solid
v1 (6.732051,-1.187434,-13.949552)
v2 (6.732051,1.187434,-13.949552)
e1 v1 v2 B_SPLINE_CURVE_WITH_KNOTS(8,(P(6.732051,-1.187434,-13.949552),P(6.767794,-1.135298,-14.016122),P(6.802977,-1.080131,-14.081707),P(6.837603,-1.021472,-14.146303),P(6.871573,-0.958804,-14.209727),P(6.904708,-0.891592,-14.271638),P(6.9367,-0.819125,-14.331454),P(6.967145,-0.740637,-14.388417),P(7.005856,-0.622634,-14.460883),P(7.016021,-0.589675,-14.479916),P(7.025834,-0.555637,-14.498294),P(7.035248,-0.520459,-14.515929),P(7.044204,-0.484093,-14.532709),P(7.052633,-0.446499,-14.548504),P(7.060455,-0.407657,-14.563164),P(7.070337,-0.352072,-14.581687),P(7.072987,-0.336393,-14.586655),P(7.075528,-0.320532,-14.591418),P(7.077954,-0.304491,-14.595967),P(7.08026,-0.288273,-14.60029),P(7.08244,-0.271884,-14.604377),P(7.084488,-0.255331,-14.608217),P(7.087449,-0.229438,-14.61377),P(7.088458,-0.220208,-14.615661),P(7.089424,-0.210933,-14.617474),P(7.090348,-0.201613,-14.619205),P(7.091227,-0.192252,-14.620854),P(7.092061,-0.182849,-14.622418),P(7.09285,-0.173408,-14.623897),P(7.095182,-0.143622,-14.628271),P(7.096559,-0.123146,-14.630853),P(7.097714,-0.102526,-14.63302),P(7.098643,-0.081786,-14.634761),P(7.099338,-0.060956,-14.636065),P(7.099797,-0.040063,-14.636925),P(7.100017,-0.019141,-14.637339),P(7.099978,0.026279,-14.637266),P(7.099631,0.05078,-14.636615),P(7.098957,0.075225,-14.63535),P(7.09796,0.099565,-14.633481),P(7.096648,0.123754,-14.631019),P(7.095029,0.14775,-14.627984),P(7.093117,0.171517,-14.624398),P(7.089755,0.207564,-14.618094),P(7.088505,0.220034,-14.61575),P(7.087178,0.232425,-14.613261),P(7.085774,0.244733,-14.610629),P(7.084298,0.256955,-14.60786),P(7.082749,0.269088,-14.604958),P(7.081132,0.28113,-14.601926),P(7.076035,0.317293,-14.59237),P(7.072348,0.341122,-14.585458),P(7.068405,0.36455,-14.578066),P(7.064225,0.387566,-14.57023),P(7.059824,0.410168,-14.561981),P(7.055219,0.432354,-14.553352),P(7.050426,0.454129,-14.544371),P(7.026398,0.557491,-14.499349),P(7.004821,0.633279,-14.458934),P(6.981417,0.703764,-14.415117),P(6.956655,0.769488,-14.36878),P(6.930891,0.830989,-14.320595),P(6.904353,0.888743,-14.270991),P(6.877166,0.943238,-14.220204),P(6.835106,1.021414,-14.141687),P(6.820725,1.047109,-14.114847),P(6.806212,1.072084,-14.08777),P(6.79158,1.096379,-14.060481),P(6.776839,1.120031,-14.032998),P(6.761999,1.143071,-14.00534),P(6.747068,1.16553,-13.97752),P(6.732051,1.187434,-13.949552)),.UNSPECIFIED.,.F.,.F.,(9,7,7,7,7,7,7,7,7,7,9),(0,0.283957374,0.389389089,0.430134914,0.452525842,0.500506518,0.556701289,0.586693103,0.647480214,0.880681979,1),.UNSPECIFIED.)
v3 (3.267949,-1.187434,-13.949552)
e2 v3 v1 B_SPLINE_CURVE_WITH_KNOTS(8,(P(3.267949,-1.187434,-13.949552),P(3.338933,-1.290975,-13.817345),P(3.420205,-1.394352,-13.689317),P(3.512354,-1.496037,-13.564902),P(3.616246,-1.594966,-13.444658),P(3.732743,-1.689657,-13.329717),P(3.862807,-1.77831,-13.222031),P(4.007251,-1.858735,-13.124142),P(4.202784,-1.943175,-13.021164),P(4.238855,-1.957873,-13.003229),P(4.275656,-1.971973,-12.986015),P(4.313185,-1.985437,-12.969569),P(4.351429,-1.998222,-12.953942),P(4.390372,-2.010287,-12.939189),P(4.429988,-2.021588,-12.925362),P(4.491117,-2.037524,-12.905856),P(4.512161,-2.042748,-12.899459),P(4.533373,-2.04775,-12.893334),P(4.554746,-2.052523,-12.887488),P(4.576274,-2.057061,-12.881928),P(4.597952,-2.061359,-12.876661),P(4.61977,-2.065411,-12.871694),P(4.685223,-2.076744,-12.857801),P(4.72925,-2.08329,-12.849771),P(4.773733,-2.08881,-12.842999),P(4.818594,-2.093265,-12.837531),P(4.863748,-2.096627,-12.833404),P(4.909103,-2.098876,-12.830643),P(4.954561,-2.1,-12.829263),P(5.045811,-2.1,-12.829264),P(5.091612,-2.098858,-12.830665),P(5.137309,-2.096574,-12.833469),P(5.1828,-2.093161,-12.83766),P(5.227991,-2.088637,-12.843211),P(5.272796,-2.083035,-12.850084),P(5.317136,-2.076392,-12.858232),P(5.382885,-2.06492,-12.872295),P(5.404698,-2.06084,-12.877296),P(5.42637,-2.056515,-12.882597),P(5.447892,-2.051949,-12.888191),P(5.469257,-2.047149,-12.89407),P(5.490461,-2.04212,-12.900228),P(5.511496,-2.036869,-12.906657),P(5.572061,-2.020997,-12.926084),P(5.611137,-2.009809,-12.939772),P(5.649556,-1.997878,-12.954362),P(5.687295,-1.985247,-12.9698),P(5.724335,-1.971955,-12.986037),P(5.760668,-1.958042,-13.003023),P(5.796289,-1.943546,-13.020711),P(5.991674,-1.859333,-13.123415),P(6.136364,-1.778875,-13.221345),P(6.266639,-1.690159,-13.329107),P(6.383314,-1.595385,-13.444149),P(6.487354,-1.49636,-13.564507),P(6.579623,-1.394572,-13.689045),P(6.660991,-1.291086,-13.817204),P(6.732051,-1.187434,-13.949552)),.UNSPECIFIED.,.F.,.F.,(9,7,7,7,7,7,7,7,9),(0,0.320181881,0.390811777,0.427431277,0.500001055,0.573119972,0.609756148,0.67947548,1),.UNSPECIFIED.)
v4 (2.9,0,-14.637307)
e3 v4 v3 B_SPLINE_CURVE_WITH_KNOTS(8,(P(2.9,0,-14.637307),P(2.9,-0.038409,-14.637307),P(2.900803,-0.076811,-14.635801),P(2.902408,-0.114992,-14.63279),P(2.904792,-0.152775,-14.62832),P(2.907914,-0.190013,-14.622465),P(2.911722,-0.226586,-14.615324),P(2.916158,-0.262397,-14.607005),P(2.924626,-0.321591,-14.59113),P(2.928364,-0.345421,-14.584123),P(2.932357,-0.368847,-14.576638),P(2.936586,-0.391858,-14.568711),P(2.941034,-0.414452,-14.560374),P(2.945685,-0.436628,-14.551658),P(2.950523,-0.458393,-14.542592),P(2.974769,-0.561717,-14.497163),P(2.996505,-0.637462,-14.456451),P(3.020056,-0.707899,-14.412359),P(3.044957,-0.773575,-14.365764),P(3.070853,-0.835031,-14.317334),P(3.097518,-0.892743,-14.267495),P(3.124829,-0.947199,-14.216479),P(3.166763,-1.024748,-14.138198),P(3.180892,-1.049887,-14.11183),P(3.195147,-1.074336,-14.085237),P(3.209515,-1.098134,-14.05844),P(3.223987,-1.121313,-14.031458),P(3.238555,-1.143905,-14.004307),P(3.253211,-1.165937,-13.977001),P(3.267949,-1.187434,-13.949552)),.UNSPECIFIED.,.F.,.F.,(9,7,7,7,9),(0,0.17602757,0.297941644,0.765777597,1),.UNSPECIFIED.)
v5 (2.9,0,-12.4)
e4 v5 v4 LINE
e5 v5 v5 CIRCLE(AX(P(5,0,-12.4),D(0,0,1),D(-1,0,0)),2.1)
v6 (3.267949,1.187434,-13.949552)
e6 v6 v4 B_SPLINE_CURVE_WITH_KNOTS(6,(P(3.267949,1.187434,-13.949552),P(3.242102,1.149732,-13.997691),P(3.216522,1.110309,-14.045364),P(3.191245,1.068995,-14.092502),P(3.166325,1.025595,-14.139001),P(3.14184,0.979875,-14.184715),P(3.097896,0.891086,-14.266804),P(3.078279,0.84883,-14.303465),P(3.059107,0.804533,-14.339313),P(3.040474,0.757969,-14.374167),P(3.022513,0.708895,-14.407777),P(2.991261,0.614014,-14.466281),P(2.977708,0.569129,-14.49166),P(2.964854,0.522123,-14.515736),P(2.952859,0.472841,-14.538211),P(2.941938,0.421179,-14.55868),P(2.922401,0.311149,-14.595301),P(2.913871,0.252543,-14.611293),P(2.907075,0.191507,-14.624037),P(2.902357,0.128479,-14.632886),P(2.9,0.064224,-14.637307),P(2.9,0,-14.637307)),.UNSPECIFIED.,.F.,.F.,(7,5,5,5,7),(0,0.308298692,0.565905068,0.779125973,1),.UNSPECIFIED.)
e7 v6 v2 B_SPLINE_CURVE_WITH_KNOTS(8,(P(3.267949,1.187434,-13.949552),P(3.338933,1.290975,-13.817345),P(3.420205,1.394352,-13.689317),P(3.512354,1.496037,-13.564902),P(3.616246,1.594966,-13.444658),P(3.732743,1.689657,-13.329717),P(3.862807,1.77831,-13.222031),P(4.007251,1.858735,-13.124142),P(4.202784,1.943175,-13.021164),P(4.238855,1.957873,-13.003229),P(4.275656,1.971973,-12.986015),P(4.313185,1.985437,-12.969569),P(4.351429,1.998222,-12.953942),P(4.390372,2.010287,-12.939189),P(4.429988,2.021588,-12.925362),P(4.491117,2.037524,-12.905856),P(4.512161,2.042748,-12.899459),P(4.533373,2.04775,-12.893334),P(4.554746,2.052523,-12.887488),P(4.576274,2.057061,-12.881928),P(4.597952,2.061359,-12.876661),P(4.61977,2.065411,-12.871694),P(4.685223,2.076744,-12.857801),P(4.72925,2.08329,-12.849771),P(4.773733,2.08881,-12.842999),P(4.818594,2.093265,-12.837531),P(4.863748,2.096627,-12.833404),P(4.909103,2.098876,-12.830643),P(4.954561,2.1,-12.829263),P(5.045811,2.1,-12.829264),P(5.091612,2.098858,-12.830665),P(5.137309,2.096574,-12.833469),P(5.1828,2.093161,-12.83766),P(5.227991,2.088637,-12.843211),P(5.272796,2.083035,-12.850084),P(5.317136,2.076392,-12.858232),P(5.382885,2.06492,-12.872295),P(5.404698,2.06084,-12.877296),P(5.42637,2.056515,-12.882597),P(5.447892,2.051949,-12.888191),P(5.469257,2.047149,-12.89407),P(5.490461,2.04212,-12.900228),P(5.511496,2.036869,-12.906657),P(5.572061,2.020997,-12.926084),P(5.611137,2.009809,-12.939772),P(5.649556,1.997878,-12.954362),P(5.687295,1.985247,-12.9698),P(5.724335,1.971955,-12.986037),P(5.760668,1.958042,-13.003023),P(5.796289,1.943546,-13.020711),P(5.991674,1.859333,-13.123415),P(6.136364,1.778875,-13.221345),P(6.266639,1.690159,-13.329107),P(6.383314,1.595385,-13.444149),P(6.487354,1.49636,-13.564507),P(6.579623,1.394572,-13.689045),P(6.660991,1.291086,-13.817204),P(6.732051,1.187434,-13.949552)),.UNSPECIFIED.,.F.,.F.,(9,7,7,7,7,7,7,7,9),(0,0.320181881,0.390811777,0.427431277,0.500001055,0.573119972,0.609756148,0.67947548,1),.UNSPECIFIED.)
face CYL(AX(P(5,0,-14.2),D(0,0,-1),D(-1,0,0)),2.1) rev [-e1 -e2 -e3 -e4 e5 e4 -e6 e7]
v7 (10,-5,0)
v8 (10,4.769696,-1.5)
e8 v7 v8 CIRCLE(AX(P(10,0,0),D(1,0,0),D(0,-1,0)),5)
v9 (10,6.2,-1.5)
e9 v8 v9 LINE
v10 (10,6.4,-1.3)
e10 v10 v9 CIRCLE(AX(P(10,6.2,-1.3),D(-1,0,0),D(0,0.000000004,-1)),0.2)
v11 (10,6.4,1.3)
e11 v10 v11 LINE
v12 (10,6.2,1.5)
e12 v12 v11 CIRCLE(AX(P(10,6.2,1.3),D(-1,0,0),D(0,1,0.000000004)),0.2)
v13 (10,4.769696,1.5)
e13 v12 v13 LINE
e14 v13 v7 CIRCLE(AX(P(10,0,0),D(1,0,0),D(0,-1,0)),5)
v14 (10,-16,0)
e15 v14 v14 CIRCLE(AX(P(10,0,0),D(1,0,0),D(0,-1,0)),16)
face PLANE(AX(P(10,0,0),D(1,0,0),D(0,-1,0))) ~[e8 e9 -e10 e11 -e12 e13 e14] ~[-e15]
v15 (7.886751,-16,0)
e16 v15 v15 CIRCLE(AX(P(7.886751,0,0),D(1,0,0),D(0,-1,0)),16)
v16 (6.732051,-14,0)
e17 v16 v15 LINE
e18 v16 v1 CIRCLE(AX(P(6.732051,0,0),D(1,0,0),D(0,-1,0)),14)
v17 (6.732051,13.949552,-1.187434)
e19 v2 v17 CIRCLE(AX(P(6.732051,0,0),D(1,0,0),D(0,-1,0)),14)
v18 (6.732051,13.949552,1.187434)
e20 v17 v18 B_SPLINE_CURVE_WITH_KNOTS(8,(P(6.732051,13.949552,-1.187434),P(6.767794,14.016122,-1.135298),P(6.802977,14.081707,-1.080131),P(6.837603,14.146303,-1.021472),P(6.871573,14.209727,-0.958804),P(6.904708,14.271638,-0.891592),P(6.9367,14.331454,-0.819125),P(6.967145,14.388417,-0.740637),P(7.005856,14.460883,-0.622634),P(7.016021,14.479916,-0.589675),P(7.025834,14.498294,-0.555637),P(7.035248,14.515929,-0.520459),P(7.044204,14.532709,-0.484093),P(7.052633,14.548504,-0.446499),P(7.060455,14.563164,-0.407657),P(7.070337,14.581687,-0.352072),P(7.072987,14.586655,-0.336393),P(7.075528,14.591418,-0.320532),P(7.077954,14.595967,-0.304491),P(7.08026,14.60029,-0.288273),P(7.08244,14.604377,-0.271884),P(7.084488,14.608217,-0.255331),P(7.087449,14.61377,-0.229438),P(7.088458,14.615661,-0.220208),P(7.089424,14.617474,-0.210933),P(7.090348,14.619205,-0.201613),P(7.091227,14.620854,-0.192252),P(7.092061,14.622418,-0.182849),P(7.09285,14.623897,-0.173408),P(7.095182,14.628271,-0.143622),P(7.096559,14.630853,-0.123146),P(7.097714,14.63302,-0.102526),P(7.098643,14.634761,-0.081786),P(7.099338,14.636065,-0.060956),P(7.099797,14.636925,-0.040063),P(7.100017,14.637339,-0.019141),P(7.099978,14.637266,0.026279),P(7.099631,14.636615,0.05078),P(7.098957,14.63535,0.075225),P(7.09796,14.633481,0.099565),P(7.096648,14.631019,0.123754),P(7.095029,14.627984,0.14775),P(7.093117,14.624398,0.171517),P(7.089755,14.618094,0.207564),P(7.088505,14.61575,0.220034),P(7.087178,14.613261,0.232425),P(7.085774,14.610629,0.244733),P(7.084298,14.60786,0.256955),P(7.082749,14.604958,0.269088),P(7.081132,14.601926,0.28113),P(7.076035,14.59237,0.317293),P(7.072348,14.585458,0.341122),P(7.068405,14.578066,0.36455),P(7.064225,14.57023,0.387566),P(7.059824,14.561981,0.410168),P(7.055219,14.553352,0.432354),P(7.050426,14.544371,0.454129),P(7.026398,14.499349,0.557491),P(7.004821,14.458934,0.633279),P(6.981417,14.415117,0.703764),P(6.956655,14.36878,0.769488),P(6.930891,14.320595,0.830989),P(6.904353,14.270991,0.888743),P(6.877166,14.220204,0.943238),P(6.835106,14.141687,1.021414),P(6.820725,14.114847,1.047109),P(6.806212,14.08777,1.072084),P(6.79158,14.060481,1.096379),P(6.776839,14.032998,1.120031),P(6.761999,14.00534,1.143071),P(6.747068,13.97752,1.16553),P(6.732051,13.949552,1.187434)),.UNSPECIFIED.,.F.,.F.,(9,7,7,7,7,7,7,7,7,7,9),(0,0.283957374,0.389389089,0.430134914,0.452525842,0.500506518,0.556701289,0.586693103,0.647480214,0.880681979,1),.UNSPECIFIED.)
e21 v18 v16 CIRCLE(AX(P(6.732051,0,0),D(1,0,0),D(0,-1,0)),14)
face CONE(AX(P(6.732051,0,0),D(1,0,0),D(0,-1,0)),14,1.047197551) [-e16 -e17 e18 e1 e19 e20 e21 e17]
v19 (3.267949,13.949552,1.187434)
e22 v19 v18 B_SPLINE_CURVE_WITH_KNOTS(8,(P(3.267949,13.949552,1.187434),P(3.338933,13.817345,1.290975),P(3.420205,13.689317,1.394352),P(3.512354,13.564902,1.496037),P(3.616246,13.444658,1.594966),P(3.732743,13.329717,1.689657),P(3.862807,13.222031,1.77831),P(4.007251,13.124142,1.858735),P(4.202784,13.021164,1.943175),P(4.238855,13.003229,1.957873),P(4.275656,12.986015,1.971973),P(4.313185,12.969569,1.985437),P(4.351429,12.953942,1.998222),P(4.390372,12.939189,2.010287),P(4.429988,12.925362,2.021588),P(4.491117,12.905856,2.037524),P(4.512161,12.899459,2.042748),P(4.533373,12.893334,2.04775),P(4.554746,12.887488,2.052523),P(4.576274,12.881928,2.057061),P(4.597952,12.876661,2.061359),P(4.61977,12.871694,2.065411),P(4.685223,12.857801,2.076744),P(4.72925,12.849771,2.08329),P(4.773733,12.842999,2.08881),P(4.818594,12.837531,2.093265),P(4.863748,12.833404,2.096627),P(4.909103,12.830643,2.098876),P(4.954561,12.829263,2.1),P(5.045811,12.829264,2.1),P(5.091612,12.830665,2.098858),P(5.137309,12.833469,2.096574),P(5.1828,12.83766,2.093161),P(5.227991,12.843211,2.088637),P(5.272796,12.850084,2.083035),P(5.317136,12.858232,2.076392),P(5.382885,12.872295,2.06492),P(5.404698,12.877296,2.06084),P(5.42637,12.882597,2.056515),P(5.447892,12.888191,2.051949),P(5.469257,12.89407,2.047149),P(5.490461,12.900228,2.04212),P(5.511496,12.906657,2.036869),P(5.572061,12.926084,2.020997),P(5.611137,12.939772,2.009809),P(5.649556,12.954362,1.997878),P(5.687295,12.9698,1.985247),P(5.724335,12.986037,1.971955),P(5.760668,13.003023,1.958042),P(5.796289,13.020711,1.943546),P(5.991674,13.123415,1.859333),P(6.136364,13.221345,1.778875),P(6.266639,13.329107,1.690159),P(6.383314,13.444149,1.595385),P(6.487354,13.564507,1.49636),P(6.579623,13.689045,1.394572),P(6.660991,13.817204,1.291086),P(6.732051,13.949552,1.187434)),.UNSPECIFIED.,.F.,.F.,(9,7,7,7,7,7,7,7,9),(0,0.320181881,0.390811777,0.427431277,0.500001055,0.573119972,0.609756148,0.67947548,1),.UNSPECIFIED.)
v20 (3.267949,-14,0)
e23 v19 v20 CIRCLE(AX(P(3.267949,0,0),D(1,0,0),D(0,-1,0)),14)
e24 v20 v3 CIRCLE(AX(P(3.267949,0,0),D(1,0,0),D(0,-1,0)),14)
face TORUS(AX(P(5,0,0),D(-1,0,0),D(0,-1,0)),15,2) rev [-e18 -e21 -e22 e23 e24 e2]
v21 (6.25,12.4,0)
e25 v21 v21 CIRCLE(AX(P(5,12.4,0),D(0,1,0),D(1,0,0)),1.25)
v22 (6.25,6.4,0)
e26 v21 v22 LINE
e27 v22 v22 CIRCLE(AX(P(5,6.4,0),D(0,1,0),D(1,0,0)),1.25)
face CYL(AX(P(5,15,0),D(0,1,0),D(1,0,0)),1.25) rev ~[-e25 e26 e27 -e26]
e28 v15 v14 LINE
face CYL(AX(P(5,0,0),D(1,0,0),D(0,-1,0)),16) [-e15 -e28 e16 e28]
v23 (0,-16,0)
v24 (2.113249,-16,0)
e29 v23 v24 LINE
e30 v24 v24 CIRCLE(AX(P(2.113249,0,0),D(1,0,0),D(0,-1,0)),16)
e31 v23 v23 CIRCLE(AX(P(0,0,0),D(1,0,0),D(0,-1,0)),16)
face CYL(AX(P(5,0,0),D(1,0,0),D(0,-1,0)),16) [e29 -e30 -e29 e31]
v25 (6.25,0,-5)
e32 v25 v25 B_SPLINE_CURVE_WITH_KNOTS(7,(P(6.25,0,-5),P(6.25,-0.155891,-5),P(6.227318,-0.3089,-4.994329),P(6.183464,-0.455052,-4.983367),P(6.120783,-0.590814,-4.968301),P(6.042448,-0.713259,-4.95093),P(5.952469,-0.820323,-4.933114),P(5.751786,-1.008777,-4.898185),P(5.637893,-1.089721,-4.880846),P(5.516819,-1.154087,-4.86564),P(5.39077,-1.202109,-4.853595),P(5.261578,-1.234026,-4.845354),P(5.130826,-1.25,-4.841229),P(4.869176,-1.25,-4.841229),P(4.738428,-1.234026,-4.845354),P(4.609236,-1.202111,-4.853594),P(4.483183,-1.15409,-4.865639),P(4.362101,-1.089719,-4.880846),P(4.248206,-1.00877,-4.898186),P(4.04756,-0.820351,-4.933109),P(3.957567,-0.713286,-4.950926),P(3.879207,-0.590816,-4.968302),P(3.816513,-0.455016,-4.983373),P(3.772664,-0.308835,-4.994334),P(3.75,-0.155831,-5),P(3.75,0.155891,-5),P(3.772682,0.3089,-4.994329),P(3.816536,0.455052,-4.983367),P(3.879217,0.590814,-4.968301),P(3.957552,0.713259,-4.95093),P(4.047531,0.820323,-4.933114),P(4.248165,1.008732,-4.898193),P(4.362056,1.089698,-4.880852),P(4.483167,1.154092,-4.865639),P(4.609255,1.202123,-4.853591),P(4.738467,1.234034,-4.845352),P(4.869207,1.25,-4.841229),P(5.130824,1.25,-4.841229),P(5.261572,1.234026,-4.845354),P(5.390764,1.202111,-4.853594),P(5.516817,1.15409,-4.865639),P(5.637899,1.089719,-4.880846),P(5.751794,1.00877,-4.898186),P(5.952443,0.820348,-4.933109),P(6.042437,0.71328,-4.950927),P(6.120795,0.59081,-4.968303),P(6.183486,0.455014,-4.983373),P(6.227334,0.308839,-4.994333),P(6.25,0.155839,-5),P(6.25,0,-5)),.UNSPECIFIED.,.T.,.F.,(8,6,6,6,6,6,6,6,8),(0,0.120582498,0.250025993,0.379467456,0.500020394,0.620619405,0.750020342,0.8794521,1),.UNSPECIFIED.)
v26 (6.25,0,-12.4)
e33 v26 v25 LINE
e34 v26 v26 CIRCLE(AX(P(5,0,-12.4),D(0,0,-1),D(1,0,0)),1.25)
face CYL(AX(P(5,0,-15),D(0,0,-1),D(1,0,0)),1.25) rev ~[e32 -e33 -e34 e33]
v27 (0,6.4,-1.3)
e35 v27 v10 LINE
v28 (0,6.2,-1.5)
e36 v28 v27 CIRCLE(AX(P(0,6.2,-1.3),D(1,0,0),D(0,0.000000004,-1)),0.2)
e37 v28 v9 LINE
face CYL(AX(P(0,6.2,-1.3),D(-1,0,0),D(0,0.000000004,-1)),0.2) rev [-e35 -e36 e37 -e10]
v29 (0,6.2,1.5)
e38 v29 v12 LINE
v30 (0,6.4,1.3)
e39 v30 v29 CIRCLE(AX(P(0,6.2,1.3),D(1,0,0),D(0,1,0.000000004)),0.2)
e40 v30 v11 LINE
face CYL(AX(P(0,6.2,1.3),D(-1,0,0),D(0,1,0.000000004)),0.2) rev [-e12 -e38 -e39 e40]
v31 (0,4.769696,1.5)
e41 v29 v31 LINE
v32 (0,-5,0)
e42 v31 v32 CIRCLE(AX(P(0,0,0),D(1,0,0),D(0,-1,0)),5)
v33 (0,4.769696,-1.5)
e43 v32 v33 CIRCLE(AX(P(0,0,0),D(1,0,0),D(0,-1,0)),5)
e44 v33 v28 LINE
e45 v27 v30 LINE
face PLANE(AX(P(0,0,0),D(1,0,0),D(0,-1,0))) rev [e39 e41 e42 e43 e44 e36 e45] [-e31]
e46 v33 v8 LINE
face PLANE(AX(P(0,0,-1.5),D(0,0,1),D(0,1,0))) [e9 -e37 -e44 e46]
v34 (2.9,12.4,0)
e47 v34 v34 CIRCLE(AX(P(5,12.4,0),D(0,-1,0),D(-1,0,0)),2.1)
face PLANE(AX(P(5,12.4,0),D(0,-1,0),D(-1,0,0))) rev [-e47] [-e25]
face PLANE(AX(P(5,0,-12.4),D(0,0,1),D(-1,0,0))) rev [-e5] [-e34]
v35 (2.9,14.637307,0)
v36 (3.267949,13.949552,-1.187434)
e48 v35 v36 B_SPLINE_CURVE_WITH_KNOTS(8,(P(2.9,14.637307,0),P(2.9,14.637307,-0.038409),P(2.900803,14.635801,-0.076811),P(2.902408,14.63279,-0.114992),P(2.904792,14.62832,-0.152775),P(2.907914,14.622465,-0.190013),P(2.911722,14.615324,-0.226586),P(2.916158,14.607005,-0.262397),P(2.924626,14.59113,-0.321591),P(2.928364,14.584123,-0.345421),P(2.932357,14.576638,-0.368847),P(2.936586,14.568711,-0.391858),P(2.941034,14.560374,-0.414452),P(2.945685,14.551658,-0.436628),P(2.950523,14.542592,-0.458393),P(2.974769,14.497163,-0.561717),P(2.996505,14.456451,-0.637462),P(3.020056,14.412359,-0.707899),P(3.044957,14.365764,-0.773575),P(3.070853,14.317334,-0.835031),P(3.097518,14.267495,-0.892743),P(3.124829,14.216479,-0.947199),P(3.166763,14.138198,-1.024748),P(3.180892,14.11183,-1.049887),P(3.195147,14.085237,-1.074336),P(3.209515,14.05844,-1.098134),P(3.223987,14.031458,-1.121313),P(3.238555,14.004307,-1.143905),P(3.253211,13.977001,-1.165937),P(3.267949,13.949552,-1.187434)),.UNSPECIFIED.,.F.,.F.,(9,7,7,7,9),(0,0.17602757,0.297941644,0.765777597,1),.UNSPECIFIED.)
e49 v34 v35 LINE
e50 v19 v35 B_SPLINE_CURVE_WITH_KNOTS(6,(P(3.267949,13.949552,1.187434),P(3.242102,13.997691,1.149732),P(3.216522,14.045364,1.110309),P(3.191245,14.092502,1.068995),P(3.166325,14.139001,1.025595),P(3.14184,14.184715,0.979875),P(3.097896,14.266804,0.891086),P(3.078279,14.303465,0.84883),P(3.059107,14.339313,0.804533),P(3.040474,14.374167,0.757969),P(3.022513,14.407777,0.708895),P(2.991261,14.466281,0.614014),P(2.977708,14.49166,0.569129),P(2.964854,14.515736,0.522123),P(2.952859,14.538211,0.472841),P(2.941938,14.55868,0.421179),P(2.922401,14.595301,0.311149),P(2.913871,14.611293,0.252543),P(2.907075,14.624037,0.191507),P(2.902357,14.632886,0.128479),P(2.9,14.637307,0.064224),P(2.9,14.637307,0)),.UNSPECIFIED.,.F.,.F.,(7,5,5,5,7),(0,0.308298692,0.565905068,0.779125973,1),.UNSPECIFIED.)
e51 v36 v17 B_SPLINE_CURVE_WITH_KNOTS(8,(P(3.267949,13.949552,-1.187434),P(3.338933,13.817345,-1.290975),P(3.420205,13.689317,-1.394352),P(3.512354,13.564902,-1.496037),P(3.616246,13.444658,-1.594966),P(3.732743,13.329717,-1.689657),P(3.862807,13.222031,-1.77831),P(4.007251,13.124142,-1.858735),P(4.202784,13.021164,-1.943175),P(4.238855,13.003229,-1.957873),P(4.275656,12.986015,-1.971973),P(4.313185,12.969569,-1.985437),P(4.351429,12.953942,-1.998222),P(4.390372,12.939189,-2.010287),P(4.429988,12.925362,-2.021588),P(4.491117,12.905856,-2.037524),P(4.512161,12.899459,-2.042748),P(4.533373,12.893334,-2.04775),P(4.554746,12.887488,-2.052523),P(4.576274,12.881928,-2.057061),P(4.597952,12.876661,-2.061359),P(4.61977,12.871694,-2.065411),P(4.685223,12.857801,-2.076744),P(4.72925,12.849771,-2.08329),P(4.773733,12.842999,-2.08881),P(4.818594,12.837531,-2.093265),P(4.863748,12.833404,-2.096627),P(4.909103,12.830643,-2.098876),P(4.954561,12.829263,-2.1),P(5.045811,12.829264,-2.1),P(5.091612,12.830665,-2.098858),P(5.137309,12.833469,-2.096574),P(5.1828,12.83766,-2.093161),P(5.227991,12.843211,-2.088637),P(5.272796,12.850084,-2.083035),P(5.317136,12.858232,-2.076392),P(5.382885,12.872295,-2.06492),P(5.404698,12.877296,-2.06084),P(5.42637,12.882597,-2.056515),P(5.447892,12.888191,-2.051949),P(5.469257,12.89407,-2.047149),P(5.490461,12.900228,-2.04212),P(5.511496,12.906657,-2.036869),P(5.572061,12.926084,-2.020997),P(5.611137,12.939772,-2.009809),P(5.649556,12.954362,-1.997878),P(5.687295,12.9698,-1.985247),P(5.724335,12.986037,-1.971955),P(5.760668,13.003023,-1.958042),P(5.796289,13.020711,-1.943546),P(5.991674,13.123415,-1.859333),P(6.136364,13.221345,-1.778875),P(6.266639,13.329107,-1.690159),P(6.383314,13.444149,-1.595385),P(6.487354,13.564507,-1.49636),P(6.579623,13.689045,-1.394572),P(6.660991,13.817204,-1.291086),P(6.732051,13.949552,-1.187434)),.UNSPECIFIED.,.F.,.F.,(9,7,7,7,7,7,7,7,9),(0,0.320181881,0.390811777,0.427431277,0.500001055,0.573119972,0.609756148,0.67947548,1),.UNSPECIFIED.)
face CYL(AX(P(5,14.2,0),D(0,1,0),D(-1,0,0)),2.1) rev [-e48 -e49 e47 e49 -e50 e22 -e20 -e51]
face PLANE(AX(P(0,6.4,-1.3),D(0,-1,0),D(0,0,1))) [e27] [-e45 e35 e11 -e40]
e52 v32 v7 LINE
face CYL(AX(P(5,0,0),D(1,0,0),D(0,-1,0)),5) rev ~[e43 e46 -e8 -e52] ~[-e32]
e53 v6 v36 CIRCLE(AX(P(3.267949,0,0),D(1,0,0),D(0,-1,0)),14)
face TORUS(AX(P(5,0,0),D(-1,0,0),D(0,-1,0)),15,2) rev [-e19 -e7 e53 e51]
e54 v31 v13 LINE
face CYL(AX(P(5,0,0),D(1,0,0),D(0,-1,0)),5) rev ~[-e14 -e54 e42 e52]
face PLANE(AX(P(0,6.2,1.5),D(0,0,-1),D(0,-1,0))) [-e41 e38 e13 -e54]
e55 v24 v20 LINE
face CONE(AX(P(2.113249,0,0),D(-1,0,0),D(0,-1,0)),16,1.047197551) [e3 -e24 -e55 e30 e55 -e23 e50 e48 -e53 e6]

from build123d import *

# Parameters (mm, degrees)
SKETCH1_W           = 10
SKETCH1_H           = 11
SKETCH2_W           = 2.1
SKETCH2_H           = 3.6
TAPPED_HOLE1_REACH  = 38.29
TAPPED_HOLE1_BORE_R = 1.25
CIRPATTERN1_COUNT   = 2
CIRPATTERN1_ANGLE   = 90
CUT_EXTRUDE1_DEPTH  = 25.738633924


with BuildPart() as part:
    # Sketch1 → Revolve1 (revolve)
    with BuildSketch(Plane.XY, mode=Mode.PRIVATE) as revolve1_sk:
        with Locations((5, 10.5)):
            Rectangle(SKETCH1_W, SKETCH1_H)
    revolve(revolve1_sk.sketch.rotate(Axis((0, 0, 0), (1, 0, 0)), 180), axis=Axis((0, 0, 0), (1, 0, 0)))

    # Sketch2 → Cut-Revolve1 (revolve, cut)
    with BuildSketch(Plane.XY, mode=Mode.PRIVATE) as cut_revolve1_sk:
        with Locations((6.05, 14.2)):
            Rectangle(SKETCH2_W, SKETCH2_H)
    cut_revolve1 = revolve(cut_revolve1_sk.sketch.rotate(Axis((5, 16, 0), (0, -1, 0)), 180), axis=Axis((5, 16, 0), (0, -1, 0)), mode=Mode.SUBTRACT)

    # Tapped Hole1 bore → Tapped Hole1 (cut, up to next)
    with BuildSketch(Plane(origin=(0, 15, 0), x_dir=(1, 0, 0), z_dir=(0, 1, 0)), mode=Mode.PRIVATE) as tapped_hole1_sk1:
        with Locations((5, 0)):
            Circle(TAPPED_HOLE1_BORE_R)
    tapped_hole1_tool1 = extrude(tapped_hole1_sk1.sketch, amount=-TAPPED_HOLE1_REACH, mode=Mode.PRIVATE) & part.part
    tapped_hole1 = tapped_hole1_tool1.solids().sort_by_distance((5, 15, 0))[0]
    add(tapped_hole1, mode=Mode.SUBTRACT)

    # CirPattern1: Cut-Revolve1, Tapped Hole1 ×2 about axis
    cirpattern1_axis = Axis((0, 0, 0), (-1, 0, 0))
    add([cut_revolve1.rotate(cirpattern1_axis, i * CIRPATTERN1_ANGLE / (CIRPATTERN1_COUNT - 1)) for i in range(1, CIRPATTERN1_COUNT)], mode=Mode.SUBTRACT)
    add([tapped_hole1.rotate(cirpattern1_axis, i * CIRPATTERN1_ANGLE / (CIRPATTERN1_COUNT - 1)) for i in range(1, CIRPATTERN1_COUNT)], mode=Mode.SUBTRACT)

    # Sketch5 → Cut-Extrude1 (cut, through all)
    with BuildSketch(Plane(origin=(0, 0, 0), x_dir=(0, 0, -1), z_dir=(1, 0, 0))):
        with BuildLine():
            Line((-1.5, 0), (1.5, 0))
            Line((1.5, 0), (1.5, 6.2))
            ThreePointArc((1.5, 6.2), (1.441421356, 6.341421356), (1.3, 6.4))
            Line((1.3, 6.4), (-1.3, 6.4))
            ThreePointArc((-1.3, 6.4), (-1.441421356, 6.341421356), (-1.5, 6.2))
            Line((-1.5, 6.2), (-1.5, 0))
        make_face()
    extrude(amount=CUT_EXTRUDE1_DEPTH, mode=Mode.SUBTRACT)

    # Sketch7 → Cut-Revolve3 (revolve, cut)
    with BuildSketch(Plane.XY, mode=Mode.PRIVATE) as cut_revolve3_sk:
        with BuildLine():
            Line((2.113248654, 16), (3.267949192, 14))
            ThreePointArc((3.267949192, 14), (5, 13), (6.732050808, 14))
            Line((6.732050808, 14), (7.886751346, 16))
            Line((7.886751346, 16), (2.113248654, 16))
        make_face()
    revolve(cut_revolve3_sk.sketch.rotate(Axis((0, 0, 0), (1, 0, 0)), 180), axis=Axis((0, 0, 0), (1, 0, 0)), mode=Mode.SUBTRACT)


solid = part.part
